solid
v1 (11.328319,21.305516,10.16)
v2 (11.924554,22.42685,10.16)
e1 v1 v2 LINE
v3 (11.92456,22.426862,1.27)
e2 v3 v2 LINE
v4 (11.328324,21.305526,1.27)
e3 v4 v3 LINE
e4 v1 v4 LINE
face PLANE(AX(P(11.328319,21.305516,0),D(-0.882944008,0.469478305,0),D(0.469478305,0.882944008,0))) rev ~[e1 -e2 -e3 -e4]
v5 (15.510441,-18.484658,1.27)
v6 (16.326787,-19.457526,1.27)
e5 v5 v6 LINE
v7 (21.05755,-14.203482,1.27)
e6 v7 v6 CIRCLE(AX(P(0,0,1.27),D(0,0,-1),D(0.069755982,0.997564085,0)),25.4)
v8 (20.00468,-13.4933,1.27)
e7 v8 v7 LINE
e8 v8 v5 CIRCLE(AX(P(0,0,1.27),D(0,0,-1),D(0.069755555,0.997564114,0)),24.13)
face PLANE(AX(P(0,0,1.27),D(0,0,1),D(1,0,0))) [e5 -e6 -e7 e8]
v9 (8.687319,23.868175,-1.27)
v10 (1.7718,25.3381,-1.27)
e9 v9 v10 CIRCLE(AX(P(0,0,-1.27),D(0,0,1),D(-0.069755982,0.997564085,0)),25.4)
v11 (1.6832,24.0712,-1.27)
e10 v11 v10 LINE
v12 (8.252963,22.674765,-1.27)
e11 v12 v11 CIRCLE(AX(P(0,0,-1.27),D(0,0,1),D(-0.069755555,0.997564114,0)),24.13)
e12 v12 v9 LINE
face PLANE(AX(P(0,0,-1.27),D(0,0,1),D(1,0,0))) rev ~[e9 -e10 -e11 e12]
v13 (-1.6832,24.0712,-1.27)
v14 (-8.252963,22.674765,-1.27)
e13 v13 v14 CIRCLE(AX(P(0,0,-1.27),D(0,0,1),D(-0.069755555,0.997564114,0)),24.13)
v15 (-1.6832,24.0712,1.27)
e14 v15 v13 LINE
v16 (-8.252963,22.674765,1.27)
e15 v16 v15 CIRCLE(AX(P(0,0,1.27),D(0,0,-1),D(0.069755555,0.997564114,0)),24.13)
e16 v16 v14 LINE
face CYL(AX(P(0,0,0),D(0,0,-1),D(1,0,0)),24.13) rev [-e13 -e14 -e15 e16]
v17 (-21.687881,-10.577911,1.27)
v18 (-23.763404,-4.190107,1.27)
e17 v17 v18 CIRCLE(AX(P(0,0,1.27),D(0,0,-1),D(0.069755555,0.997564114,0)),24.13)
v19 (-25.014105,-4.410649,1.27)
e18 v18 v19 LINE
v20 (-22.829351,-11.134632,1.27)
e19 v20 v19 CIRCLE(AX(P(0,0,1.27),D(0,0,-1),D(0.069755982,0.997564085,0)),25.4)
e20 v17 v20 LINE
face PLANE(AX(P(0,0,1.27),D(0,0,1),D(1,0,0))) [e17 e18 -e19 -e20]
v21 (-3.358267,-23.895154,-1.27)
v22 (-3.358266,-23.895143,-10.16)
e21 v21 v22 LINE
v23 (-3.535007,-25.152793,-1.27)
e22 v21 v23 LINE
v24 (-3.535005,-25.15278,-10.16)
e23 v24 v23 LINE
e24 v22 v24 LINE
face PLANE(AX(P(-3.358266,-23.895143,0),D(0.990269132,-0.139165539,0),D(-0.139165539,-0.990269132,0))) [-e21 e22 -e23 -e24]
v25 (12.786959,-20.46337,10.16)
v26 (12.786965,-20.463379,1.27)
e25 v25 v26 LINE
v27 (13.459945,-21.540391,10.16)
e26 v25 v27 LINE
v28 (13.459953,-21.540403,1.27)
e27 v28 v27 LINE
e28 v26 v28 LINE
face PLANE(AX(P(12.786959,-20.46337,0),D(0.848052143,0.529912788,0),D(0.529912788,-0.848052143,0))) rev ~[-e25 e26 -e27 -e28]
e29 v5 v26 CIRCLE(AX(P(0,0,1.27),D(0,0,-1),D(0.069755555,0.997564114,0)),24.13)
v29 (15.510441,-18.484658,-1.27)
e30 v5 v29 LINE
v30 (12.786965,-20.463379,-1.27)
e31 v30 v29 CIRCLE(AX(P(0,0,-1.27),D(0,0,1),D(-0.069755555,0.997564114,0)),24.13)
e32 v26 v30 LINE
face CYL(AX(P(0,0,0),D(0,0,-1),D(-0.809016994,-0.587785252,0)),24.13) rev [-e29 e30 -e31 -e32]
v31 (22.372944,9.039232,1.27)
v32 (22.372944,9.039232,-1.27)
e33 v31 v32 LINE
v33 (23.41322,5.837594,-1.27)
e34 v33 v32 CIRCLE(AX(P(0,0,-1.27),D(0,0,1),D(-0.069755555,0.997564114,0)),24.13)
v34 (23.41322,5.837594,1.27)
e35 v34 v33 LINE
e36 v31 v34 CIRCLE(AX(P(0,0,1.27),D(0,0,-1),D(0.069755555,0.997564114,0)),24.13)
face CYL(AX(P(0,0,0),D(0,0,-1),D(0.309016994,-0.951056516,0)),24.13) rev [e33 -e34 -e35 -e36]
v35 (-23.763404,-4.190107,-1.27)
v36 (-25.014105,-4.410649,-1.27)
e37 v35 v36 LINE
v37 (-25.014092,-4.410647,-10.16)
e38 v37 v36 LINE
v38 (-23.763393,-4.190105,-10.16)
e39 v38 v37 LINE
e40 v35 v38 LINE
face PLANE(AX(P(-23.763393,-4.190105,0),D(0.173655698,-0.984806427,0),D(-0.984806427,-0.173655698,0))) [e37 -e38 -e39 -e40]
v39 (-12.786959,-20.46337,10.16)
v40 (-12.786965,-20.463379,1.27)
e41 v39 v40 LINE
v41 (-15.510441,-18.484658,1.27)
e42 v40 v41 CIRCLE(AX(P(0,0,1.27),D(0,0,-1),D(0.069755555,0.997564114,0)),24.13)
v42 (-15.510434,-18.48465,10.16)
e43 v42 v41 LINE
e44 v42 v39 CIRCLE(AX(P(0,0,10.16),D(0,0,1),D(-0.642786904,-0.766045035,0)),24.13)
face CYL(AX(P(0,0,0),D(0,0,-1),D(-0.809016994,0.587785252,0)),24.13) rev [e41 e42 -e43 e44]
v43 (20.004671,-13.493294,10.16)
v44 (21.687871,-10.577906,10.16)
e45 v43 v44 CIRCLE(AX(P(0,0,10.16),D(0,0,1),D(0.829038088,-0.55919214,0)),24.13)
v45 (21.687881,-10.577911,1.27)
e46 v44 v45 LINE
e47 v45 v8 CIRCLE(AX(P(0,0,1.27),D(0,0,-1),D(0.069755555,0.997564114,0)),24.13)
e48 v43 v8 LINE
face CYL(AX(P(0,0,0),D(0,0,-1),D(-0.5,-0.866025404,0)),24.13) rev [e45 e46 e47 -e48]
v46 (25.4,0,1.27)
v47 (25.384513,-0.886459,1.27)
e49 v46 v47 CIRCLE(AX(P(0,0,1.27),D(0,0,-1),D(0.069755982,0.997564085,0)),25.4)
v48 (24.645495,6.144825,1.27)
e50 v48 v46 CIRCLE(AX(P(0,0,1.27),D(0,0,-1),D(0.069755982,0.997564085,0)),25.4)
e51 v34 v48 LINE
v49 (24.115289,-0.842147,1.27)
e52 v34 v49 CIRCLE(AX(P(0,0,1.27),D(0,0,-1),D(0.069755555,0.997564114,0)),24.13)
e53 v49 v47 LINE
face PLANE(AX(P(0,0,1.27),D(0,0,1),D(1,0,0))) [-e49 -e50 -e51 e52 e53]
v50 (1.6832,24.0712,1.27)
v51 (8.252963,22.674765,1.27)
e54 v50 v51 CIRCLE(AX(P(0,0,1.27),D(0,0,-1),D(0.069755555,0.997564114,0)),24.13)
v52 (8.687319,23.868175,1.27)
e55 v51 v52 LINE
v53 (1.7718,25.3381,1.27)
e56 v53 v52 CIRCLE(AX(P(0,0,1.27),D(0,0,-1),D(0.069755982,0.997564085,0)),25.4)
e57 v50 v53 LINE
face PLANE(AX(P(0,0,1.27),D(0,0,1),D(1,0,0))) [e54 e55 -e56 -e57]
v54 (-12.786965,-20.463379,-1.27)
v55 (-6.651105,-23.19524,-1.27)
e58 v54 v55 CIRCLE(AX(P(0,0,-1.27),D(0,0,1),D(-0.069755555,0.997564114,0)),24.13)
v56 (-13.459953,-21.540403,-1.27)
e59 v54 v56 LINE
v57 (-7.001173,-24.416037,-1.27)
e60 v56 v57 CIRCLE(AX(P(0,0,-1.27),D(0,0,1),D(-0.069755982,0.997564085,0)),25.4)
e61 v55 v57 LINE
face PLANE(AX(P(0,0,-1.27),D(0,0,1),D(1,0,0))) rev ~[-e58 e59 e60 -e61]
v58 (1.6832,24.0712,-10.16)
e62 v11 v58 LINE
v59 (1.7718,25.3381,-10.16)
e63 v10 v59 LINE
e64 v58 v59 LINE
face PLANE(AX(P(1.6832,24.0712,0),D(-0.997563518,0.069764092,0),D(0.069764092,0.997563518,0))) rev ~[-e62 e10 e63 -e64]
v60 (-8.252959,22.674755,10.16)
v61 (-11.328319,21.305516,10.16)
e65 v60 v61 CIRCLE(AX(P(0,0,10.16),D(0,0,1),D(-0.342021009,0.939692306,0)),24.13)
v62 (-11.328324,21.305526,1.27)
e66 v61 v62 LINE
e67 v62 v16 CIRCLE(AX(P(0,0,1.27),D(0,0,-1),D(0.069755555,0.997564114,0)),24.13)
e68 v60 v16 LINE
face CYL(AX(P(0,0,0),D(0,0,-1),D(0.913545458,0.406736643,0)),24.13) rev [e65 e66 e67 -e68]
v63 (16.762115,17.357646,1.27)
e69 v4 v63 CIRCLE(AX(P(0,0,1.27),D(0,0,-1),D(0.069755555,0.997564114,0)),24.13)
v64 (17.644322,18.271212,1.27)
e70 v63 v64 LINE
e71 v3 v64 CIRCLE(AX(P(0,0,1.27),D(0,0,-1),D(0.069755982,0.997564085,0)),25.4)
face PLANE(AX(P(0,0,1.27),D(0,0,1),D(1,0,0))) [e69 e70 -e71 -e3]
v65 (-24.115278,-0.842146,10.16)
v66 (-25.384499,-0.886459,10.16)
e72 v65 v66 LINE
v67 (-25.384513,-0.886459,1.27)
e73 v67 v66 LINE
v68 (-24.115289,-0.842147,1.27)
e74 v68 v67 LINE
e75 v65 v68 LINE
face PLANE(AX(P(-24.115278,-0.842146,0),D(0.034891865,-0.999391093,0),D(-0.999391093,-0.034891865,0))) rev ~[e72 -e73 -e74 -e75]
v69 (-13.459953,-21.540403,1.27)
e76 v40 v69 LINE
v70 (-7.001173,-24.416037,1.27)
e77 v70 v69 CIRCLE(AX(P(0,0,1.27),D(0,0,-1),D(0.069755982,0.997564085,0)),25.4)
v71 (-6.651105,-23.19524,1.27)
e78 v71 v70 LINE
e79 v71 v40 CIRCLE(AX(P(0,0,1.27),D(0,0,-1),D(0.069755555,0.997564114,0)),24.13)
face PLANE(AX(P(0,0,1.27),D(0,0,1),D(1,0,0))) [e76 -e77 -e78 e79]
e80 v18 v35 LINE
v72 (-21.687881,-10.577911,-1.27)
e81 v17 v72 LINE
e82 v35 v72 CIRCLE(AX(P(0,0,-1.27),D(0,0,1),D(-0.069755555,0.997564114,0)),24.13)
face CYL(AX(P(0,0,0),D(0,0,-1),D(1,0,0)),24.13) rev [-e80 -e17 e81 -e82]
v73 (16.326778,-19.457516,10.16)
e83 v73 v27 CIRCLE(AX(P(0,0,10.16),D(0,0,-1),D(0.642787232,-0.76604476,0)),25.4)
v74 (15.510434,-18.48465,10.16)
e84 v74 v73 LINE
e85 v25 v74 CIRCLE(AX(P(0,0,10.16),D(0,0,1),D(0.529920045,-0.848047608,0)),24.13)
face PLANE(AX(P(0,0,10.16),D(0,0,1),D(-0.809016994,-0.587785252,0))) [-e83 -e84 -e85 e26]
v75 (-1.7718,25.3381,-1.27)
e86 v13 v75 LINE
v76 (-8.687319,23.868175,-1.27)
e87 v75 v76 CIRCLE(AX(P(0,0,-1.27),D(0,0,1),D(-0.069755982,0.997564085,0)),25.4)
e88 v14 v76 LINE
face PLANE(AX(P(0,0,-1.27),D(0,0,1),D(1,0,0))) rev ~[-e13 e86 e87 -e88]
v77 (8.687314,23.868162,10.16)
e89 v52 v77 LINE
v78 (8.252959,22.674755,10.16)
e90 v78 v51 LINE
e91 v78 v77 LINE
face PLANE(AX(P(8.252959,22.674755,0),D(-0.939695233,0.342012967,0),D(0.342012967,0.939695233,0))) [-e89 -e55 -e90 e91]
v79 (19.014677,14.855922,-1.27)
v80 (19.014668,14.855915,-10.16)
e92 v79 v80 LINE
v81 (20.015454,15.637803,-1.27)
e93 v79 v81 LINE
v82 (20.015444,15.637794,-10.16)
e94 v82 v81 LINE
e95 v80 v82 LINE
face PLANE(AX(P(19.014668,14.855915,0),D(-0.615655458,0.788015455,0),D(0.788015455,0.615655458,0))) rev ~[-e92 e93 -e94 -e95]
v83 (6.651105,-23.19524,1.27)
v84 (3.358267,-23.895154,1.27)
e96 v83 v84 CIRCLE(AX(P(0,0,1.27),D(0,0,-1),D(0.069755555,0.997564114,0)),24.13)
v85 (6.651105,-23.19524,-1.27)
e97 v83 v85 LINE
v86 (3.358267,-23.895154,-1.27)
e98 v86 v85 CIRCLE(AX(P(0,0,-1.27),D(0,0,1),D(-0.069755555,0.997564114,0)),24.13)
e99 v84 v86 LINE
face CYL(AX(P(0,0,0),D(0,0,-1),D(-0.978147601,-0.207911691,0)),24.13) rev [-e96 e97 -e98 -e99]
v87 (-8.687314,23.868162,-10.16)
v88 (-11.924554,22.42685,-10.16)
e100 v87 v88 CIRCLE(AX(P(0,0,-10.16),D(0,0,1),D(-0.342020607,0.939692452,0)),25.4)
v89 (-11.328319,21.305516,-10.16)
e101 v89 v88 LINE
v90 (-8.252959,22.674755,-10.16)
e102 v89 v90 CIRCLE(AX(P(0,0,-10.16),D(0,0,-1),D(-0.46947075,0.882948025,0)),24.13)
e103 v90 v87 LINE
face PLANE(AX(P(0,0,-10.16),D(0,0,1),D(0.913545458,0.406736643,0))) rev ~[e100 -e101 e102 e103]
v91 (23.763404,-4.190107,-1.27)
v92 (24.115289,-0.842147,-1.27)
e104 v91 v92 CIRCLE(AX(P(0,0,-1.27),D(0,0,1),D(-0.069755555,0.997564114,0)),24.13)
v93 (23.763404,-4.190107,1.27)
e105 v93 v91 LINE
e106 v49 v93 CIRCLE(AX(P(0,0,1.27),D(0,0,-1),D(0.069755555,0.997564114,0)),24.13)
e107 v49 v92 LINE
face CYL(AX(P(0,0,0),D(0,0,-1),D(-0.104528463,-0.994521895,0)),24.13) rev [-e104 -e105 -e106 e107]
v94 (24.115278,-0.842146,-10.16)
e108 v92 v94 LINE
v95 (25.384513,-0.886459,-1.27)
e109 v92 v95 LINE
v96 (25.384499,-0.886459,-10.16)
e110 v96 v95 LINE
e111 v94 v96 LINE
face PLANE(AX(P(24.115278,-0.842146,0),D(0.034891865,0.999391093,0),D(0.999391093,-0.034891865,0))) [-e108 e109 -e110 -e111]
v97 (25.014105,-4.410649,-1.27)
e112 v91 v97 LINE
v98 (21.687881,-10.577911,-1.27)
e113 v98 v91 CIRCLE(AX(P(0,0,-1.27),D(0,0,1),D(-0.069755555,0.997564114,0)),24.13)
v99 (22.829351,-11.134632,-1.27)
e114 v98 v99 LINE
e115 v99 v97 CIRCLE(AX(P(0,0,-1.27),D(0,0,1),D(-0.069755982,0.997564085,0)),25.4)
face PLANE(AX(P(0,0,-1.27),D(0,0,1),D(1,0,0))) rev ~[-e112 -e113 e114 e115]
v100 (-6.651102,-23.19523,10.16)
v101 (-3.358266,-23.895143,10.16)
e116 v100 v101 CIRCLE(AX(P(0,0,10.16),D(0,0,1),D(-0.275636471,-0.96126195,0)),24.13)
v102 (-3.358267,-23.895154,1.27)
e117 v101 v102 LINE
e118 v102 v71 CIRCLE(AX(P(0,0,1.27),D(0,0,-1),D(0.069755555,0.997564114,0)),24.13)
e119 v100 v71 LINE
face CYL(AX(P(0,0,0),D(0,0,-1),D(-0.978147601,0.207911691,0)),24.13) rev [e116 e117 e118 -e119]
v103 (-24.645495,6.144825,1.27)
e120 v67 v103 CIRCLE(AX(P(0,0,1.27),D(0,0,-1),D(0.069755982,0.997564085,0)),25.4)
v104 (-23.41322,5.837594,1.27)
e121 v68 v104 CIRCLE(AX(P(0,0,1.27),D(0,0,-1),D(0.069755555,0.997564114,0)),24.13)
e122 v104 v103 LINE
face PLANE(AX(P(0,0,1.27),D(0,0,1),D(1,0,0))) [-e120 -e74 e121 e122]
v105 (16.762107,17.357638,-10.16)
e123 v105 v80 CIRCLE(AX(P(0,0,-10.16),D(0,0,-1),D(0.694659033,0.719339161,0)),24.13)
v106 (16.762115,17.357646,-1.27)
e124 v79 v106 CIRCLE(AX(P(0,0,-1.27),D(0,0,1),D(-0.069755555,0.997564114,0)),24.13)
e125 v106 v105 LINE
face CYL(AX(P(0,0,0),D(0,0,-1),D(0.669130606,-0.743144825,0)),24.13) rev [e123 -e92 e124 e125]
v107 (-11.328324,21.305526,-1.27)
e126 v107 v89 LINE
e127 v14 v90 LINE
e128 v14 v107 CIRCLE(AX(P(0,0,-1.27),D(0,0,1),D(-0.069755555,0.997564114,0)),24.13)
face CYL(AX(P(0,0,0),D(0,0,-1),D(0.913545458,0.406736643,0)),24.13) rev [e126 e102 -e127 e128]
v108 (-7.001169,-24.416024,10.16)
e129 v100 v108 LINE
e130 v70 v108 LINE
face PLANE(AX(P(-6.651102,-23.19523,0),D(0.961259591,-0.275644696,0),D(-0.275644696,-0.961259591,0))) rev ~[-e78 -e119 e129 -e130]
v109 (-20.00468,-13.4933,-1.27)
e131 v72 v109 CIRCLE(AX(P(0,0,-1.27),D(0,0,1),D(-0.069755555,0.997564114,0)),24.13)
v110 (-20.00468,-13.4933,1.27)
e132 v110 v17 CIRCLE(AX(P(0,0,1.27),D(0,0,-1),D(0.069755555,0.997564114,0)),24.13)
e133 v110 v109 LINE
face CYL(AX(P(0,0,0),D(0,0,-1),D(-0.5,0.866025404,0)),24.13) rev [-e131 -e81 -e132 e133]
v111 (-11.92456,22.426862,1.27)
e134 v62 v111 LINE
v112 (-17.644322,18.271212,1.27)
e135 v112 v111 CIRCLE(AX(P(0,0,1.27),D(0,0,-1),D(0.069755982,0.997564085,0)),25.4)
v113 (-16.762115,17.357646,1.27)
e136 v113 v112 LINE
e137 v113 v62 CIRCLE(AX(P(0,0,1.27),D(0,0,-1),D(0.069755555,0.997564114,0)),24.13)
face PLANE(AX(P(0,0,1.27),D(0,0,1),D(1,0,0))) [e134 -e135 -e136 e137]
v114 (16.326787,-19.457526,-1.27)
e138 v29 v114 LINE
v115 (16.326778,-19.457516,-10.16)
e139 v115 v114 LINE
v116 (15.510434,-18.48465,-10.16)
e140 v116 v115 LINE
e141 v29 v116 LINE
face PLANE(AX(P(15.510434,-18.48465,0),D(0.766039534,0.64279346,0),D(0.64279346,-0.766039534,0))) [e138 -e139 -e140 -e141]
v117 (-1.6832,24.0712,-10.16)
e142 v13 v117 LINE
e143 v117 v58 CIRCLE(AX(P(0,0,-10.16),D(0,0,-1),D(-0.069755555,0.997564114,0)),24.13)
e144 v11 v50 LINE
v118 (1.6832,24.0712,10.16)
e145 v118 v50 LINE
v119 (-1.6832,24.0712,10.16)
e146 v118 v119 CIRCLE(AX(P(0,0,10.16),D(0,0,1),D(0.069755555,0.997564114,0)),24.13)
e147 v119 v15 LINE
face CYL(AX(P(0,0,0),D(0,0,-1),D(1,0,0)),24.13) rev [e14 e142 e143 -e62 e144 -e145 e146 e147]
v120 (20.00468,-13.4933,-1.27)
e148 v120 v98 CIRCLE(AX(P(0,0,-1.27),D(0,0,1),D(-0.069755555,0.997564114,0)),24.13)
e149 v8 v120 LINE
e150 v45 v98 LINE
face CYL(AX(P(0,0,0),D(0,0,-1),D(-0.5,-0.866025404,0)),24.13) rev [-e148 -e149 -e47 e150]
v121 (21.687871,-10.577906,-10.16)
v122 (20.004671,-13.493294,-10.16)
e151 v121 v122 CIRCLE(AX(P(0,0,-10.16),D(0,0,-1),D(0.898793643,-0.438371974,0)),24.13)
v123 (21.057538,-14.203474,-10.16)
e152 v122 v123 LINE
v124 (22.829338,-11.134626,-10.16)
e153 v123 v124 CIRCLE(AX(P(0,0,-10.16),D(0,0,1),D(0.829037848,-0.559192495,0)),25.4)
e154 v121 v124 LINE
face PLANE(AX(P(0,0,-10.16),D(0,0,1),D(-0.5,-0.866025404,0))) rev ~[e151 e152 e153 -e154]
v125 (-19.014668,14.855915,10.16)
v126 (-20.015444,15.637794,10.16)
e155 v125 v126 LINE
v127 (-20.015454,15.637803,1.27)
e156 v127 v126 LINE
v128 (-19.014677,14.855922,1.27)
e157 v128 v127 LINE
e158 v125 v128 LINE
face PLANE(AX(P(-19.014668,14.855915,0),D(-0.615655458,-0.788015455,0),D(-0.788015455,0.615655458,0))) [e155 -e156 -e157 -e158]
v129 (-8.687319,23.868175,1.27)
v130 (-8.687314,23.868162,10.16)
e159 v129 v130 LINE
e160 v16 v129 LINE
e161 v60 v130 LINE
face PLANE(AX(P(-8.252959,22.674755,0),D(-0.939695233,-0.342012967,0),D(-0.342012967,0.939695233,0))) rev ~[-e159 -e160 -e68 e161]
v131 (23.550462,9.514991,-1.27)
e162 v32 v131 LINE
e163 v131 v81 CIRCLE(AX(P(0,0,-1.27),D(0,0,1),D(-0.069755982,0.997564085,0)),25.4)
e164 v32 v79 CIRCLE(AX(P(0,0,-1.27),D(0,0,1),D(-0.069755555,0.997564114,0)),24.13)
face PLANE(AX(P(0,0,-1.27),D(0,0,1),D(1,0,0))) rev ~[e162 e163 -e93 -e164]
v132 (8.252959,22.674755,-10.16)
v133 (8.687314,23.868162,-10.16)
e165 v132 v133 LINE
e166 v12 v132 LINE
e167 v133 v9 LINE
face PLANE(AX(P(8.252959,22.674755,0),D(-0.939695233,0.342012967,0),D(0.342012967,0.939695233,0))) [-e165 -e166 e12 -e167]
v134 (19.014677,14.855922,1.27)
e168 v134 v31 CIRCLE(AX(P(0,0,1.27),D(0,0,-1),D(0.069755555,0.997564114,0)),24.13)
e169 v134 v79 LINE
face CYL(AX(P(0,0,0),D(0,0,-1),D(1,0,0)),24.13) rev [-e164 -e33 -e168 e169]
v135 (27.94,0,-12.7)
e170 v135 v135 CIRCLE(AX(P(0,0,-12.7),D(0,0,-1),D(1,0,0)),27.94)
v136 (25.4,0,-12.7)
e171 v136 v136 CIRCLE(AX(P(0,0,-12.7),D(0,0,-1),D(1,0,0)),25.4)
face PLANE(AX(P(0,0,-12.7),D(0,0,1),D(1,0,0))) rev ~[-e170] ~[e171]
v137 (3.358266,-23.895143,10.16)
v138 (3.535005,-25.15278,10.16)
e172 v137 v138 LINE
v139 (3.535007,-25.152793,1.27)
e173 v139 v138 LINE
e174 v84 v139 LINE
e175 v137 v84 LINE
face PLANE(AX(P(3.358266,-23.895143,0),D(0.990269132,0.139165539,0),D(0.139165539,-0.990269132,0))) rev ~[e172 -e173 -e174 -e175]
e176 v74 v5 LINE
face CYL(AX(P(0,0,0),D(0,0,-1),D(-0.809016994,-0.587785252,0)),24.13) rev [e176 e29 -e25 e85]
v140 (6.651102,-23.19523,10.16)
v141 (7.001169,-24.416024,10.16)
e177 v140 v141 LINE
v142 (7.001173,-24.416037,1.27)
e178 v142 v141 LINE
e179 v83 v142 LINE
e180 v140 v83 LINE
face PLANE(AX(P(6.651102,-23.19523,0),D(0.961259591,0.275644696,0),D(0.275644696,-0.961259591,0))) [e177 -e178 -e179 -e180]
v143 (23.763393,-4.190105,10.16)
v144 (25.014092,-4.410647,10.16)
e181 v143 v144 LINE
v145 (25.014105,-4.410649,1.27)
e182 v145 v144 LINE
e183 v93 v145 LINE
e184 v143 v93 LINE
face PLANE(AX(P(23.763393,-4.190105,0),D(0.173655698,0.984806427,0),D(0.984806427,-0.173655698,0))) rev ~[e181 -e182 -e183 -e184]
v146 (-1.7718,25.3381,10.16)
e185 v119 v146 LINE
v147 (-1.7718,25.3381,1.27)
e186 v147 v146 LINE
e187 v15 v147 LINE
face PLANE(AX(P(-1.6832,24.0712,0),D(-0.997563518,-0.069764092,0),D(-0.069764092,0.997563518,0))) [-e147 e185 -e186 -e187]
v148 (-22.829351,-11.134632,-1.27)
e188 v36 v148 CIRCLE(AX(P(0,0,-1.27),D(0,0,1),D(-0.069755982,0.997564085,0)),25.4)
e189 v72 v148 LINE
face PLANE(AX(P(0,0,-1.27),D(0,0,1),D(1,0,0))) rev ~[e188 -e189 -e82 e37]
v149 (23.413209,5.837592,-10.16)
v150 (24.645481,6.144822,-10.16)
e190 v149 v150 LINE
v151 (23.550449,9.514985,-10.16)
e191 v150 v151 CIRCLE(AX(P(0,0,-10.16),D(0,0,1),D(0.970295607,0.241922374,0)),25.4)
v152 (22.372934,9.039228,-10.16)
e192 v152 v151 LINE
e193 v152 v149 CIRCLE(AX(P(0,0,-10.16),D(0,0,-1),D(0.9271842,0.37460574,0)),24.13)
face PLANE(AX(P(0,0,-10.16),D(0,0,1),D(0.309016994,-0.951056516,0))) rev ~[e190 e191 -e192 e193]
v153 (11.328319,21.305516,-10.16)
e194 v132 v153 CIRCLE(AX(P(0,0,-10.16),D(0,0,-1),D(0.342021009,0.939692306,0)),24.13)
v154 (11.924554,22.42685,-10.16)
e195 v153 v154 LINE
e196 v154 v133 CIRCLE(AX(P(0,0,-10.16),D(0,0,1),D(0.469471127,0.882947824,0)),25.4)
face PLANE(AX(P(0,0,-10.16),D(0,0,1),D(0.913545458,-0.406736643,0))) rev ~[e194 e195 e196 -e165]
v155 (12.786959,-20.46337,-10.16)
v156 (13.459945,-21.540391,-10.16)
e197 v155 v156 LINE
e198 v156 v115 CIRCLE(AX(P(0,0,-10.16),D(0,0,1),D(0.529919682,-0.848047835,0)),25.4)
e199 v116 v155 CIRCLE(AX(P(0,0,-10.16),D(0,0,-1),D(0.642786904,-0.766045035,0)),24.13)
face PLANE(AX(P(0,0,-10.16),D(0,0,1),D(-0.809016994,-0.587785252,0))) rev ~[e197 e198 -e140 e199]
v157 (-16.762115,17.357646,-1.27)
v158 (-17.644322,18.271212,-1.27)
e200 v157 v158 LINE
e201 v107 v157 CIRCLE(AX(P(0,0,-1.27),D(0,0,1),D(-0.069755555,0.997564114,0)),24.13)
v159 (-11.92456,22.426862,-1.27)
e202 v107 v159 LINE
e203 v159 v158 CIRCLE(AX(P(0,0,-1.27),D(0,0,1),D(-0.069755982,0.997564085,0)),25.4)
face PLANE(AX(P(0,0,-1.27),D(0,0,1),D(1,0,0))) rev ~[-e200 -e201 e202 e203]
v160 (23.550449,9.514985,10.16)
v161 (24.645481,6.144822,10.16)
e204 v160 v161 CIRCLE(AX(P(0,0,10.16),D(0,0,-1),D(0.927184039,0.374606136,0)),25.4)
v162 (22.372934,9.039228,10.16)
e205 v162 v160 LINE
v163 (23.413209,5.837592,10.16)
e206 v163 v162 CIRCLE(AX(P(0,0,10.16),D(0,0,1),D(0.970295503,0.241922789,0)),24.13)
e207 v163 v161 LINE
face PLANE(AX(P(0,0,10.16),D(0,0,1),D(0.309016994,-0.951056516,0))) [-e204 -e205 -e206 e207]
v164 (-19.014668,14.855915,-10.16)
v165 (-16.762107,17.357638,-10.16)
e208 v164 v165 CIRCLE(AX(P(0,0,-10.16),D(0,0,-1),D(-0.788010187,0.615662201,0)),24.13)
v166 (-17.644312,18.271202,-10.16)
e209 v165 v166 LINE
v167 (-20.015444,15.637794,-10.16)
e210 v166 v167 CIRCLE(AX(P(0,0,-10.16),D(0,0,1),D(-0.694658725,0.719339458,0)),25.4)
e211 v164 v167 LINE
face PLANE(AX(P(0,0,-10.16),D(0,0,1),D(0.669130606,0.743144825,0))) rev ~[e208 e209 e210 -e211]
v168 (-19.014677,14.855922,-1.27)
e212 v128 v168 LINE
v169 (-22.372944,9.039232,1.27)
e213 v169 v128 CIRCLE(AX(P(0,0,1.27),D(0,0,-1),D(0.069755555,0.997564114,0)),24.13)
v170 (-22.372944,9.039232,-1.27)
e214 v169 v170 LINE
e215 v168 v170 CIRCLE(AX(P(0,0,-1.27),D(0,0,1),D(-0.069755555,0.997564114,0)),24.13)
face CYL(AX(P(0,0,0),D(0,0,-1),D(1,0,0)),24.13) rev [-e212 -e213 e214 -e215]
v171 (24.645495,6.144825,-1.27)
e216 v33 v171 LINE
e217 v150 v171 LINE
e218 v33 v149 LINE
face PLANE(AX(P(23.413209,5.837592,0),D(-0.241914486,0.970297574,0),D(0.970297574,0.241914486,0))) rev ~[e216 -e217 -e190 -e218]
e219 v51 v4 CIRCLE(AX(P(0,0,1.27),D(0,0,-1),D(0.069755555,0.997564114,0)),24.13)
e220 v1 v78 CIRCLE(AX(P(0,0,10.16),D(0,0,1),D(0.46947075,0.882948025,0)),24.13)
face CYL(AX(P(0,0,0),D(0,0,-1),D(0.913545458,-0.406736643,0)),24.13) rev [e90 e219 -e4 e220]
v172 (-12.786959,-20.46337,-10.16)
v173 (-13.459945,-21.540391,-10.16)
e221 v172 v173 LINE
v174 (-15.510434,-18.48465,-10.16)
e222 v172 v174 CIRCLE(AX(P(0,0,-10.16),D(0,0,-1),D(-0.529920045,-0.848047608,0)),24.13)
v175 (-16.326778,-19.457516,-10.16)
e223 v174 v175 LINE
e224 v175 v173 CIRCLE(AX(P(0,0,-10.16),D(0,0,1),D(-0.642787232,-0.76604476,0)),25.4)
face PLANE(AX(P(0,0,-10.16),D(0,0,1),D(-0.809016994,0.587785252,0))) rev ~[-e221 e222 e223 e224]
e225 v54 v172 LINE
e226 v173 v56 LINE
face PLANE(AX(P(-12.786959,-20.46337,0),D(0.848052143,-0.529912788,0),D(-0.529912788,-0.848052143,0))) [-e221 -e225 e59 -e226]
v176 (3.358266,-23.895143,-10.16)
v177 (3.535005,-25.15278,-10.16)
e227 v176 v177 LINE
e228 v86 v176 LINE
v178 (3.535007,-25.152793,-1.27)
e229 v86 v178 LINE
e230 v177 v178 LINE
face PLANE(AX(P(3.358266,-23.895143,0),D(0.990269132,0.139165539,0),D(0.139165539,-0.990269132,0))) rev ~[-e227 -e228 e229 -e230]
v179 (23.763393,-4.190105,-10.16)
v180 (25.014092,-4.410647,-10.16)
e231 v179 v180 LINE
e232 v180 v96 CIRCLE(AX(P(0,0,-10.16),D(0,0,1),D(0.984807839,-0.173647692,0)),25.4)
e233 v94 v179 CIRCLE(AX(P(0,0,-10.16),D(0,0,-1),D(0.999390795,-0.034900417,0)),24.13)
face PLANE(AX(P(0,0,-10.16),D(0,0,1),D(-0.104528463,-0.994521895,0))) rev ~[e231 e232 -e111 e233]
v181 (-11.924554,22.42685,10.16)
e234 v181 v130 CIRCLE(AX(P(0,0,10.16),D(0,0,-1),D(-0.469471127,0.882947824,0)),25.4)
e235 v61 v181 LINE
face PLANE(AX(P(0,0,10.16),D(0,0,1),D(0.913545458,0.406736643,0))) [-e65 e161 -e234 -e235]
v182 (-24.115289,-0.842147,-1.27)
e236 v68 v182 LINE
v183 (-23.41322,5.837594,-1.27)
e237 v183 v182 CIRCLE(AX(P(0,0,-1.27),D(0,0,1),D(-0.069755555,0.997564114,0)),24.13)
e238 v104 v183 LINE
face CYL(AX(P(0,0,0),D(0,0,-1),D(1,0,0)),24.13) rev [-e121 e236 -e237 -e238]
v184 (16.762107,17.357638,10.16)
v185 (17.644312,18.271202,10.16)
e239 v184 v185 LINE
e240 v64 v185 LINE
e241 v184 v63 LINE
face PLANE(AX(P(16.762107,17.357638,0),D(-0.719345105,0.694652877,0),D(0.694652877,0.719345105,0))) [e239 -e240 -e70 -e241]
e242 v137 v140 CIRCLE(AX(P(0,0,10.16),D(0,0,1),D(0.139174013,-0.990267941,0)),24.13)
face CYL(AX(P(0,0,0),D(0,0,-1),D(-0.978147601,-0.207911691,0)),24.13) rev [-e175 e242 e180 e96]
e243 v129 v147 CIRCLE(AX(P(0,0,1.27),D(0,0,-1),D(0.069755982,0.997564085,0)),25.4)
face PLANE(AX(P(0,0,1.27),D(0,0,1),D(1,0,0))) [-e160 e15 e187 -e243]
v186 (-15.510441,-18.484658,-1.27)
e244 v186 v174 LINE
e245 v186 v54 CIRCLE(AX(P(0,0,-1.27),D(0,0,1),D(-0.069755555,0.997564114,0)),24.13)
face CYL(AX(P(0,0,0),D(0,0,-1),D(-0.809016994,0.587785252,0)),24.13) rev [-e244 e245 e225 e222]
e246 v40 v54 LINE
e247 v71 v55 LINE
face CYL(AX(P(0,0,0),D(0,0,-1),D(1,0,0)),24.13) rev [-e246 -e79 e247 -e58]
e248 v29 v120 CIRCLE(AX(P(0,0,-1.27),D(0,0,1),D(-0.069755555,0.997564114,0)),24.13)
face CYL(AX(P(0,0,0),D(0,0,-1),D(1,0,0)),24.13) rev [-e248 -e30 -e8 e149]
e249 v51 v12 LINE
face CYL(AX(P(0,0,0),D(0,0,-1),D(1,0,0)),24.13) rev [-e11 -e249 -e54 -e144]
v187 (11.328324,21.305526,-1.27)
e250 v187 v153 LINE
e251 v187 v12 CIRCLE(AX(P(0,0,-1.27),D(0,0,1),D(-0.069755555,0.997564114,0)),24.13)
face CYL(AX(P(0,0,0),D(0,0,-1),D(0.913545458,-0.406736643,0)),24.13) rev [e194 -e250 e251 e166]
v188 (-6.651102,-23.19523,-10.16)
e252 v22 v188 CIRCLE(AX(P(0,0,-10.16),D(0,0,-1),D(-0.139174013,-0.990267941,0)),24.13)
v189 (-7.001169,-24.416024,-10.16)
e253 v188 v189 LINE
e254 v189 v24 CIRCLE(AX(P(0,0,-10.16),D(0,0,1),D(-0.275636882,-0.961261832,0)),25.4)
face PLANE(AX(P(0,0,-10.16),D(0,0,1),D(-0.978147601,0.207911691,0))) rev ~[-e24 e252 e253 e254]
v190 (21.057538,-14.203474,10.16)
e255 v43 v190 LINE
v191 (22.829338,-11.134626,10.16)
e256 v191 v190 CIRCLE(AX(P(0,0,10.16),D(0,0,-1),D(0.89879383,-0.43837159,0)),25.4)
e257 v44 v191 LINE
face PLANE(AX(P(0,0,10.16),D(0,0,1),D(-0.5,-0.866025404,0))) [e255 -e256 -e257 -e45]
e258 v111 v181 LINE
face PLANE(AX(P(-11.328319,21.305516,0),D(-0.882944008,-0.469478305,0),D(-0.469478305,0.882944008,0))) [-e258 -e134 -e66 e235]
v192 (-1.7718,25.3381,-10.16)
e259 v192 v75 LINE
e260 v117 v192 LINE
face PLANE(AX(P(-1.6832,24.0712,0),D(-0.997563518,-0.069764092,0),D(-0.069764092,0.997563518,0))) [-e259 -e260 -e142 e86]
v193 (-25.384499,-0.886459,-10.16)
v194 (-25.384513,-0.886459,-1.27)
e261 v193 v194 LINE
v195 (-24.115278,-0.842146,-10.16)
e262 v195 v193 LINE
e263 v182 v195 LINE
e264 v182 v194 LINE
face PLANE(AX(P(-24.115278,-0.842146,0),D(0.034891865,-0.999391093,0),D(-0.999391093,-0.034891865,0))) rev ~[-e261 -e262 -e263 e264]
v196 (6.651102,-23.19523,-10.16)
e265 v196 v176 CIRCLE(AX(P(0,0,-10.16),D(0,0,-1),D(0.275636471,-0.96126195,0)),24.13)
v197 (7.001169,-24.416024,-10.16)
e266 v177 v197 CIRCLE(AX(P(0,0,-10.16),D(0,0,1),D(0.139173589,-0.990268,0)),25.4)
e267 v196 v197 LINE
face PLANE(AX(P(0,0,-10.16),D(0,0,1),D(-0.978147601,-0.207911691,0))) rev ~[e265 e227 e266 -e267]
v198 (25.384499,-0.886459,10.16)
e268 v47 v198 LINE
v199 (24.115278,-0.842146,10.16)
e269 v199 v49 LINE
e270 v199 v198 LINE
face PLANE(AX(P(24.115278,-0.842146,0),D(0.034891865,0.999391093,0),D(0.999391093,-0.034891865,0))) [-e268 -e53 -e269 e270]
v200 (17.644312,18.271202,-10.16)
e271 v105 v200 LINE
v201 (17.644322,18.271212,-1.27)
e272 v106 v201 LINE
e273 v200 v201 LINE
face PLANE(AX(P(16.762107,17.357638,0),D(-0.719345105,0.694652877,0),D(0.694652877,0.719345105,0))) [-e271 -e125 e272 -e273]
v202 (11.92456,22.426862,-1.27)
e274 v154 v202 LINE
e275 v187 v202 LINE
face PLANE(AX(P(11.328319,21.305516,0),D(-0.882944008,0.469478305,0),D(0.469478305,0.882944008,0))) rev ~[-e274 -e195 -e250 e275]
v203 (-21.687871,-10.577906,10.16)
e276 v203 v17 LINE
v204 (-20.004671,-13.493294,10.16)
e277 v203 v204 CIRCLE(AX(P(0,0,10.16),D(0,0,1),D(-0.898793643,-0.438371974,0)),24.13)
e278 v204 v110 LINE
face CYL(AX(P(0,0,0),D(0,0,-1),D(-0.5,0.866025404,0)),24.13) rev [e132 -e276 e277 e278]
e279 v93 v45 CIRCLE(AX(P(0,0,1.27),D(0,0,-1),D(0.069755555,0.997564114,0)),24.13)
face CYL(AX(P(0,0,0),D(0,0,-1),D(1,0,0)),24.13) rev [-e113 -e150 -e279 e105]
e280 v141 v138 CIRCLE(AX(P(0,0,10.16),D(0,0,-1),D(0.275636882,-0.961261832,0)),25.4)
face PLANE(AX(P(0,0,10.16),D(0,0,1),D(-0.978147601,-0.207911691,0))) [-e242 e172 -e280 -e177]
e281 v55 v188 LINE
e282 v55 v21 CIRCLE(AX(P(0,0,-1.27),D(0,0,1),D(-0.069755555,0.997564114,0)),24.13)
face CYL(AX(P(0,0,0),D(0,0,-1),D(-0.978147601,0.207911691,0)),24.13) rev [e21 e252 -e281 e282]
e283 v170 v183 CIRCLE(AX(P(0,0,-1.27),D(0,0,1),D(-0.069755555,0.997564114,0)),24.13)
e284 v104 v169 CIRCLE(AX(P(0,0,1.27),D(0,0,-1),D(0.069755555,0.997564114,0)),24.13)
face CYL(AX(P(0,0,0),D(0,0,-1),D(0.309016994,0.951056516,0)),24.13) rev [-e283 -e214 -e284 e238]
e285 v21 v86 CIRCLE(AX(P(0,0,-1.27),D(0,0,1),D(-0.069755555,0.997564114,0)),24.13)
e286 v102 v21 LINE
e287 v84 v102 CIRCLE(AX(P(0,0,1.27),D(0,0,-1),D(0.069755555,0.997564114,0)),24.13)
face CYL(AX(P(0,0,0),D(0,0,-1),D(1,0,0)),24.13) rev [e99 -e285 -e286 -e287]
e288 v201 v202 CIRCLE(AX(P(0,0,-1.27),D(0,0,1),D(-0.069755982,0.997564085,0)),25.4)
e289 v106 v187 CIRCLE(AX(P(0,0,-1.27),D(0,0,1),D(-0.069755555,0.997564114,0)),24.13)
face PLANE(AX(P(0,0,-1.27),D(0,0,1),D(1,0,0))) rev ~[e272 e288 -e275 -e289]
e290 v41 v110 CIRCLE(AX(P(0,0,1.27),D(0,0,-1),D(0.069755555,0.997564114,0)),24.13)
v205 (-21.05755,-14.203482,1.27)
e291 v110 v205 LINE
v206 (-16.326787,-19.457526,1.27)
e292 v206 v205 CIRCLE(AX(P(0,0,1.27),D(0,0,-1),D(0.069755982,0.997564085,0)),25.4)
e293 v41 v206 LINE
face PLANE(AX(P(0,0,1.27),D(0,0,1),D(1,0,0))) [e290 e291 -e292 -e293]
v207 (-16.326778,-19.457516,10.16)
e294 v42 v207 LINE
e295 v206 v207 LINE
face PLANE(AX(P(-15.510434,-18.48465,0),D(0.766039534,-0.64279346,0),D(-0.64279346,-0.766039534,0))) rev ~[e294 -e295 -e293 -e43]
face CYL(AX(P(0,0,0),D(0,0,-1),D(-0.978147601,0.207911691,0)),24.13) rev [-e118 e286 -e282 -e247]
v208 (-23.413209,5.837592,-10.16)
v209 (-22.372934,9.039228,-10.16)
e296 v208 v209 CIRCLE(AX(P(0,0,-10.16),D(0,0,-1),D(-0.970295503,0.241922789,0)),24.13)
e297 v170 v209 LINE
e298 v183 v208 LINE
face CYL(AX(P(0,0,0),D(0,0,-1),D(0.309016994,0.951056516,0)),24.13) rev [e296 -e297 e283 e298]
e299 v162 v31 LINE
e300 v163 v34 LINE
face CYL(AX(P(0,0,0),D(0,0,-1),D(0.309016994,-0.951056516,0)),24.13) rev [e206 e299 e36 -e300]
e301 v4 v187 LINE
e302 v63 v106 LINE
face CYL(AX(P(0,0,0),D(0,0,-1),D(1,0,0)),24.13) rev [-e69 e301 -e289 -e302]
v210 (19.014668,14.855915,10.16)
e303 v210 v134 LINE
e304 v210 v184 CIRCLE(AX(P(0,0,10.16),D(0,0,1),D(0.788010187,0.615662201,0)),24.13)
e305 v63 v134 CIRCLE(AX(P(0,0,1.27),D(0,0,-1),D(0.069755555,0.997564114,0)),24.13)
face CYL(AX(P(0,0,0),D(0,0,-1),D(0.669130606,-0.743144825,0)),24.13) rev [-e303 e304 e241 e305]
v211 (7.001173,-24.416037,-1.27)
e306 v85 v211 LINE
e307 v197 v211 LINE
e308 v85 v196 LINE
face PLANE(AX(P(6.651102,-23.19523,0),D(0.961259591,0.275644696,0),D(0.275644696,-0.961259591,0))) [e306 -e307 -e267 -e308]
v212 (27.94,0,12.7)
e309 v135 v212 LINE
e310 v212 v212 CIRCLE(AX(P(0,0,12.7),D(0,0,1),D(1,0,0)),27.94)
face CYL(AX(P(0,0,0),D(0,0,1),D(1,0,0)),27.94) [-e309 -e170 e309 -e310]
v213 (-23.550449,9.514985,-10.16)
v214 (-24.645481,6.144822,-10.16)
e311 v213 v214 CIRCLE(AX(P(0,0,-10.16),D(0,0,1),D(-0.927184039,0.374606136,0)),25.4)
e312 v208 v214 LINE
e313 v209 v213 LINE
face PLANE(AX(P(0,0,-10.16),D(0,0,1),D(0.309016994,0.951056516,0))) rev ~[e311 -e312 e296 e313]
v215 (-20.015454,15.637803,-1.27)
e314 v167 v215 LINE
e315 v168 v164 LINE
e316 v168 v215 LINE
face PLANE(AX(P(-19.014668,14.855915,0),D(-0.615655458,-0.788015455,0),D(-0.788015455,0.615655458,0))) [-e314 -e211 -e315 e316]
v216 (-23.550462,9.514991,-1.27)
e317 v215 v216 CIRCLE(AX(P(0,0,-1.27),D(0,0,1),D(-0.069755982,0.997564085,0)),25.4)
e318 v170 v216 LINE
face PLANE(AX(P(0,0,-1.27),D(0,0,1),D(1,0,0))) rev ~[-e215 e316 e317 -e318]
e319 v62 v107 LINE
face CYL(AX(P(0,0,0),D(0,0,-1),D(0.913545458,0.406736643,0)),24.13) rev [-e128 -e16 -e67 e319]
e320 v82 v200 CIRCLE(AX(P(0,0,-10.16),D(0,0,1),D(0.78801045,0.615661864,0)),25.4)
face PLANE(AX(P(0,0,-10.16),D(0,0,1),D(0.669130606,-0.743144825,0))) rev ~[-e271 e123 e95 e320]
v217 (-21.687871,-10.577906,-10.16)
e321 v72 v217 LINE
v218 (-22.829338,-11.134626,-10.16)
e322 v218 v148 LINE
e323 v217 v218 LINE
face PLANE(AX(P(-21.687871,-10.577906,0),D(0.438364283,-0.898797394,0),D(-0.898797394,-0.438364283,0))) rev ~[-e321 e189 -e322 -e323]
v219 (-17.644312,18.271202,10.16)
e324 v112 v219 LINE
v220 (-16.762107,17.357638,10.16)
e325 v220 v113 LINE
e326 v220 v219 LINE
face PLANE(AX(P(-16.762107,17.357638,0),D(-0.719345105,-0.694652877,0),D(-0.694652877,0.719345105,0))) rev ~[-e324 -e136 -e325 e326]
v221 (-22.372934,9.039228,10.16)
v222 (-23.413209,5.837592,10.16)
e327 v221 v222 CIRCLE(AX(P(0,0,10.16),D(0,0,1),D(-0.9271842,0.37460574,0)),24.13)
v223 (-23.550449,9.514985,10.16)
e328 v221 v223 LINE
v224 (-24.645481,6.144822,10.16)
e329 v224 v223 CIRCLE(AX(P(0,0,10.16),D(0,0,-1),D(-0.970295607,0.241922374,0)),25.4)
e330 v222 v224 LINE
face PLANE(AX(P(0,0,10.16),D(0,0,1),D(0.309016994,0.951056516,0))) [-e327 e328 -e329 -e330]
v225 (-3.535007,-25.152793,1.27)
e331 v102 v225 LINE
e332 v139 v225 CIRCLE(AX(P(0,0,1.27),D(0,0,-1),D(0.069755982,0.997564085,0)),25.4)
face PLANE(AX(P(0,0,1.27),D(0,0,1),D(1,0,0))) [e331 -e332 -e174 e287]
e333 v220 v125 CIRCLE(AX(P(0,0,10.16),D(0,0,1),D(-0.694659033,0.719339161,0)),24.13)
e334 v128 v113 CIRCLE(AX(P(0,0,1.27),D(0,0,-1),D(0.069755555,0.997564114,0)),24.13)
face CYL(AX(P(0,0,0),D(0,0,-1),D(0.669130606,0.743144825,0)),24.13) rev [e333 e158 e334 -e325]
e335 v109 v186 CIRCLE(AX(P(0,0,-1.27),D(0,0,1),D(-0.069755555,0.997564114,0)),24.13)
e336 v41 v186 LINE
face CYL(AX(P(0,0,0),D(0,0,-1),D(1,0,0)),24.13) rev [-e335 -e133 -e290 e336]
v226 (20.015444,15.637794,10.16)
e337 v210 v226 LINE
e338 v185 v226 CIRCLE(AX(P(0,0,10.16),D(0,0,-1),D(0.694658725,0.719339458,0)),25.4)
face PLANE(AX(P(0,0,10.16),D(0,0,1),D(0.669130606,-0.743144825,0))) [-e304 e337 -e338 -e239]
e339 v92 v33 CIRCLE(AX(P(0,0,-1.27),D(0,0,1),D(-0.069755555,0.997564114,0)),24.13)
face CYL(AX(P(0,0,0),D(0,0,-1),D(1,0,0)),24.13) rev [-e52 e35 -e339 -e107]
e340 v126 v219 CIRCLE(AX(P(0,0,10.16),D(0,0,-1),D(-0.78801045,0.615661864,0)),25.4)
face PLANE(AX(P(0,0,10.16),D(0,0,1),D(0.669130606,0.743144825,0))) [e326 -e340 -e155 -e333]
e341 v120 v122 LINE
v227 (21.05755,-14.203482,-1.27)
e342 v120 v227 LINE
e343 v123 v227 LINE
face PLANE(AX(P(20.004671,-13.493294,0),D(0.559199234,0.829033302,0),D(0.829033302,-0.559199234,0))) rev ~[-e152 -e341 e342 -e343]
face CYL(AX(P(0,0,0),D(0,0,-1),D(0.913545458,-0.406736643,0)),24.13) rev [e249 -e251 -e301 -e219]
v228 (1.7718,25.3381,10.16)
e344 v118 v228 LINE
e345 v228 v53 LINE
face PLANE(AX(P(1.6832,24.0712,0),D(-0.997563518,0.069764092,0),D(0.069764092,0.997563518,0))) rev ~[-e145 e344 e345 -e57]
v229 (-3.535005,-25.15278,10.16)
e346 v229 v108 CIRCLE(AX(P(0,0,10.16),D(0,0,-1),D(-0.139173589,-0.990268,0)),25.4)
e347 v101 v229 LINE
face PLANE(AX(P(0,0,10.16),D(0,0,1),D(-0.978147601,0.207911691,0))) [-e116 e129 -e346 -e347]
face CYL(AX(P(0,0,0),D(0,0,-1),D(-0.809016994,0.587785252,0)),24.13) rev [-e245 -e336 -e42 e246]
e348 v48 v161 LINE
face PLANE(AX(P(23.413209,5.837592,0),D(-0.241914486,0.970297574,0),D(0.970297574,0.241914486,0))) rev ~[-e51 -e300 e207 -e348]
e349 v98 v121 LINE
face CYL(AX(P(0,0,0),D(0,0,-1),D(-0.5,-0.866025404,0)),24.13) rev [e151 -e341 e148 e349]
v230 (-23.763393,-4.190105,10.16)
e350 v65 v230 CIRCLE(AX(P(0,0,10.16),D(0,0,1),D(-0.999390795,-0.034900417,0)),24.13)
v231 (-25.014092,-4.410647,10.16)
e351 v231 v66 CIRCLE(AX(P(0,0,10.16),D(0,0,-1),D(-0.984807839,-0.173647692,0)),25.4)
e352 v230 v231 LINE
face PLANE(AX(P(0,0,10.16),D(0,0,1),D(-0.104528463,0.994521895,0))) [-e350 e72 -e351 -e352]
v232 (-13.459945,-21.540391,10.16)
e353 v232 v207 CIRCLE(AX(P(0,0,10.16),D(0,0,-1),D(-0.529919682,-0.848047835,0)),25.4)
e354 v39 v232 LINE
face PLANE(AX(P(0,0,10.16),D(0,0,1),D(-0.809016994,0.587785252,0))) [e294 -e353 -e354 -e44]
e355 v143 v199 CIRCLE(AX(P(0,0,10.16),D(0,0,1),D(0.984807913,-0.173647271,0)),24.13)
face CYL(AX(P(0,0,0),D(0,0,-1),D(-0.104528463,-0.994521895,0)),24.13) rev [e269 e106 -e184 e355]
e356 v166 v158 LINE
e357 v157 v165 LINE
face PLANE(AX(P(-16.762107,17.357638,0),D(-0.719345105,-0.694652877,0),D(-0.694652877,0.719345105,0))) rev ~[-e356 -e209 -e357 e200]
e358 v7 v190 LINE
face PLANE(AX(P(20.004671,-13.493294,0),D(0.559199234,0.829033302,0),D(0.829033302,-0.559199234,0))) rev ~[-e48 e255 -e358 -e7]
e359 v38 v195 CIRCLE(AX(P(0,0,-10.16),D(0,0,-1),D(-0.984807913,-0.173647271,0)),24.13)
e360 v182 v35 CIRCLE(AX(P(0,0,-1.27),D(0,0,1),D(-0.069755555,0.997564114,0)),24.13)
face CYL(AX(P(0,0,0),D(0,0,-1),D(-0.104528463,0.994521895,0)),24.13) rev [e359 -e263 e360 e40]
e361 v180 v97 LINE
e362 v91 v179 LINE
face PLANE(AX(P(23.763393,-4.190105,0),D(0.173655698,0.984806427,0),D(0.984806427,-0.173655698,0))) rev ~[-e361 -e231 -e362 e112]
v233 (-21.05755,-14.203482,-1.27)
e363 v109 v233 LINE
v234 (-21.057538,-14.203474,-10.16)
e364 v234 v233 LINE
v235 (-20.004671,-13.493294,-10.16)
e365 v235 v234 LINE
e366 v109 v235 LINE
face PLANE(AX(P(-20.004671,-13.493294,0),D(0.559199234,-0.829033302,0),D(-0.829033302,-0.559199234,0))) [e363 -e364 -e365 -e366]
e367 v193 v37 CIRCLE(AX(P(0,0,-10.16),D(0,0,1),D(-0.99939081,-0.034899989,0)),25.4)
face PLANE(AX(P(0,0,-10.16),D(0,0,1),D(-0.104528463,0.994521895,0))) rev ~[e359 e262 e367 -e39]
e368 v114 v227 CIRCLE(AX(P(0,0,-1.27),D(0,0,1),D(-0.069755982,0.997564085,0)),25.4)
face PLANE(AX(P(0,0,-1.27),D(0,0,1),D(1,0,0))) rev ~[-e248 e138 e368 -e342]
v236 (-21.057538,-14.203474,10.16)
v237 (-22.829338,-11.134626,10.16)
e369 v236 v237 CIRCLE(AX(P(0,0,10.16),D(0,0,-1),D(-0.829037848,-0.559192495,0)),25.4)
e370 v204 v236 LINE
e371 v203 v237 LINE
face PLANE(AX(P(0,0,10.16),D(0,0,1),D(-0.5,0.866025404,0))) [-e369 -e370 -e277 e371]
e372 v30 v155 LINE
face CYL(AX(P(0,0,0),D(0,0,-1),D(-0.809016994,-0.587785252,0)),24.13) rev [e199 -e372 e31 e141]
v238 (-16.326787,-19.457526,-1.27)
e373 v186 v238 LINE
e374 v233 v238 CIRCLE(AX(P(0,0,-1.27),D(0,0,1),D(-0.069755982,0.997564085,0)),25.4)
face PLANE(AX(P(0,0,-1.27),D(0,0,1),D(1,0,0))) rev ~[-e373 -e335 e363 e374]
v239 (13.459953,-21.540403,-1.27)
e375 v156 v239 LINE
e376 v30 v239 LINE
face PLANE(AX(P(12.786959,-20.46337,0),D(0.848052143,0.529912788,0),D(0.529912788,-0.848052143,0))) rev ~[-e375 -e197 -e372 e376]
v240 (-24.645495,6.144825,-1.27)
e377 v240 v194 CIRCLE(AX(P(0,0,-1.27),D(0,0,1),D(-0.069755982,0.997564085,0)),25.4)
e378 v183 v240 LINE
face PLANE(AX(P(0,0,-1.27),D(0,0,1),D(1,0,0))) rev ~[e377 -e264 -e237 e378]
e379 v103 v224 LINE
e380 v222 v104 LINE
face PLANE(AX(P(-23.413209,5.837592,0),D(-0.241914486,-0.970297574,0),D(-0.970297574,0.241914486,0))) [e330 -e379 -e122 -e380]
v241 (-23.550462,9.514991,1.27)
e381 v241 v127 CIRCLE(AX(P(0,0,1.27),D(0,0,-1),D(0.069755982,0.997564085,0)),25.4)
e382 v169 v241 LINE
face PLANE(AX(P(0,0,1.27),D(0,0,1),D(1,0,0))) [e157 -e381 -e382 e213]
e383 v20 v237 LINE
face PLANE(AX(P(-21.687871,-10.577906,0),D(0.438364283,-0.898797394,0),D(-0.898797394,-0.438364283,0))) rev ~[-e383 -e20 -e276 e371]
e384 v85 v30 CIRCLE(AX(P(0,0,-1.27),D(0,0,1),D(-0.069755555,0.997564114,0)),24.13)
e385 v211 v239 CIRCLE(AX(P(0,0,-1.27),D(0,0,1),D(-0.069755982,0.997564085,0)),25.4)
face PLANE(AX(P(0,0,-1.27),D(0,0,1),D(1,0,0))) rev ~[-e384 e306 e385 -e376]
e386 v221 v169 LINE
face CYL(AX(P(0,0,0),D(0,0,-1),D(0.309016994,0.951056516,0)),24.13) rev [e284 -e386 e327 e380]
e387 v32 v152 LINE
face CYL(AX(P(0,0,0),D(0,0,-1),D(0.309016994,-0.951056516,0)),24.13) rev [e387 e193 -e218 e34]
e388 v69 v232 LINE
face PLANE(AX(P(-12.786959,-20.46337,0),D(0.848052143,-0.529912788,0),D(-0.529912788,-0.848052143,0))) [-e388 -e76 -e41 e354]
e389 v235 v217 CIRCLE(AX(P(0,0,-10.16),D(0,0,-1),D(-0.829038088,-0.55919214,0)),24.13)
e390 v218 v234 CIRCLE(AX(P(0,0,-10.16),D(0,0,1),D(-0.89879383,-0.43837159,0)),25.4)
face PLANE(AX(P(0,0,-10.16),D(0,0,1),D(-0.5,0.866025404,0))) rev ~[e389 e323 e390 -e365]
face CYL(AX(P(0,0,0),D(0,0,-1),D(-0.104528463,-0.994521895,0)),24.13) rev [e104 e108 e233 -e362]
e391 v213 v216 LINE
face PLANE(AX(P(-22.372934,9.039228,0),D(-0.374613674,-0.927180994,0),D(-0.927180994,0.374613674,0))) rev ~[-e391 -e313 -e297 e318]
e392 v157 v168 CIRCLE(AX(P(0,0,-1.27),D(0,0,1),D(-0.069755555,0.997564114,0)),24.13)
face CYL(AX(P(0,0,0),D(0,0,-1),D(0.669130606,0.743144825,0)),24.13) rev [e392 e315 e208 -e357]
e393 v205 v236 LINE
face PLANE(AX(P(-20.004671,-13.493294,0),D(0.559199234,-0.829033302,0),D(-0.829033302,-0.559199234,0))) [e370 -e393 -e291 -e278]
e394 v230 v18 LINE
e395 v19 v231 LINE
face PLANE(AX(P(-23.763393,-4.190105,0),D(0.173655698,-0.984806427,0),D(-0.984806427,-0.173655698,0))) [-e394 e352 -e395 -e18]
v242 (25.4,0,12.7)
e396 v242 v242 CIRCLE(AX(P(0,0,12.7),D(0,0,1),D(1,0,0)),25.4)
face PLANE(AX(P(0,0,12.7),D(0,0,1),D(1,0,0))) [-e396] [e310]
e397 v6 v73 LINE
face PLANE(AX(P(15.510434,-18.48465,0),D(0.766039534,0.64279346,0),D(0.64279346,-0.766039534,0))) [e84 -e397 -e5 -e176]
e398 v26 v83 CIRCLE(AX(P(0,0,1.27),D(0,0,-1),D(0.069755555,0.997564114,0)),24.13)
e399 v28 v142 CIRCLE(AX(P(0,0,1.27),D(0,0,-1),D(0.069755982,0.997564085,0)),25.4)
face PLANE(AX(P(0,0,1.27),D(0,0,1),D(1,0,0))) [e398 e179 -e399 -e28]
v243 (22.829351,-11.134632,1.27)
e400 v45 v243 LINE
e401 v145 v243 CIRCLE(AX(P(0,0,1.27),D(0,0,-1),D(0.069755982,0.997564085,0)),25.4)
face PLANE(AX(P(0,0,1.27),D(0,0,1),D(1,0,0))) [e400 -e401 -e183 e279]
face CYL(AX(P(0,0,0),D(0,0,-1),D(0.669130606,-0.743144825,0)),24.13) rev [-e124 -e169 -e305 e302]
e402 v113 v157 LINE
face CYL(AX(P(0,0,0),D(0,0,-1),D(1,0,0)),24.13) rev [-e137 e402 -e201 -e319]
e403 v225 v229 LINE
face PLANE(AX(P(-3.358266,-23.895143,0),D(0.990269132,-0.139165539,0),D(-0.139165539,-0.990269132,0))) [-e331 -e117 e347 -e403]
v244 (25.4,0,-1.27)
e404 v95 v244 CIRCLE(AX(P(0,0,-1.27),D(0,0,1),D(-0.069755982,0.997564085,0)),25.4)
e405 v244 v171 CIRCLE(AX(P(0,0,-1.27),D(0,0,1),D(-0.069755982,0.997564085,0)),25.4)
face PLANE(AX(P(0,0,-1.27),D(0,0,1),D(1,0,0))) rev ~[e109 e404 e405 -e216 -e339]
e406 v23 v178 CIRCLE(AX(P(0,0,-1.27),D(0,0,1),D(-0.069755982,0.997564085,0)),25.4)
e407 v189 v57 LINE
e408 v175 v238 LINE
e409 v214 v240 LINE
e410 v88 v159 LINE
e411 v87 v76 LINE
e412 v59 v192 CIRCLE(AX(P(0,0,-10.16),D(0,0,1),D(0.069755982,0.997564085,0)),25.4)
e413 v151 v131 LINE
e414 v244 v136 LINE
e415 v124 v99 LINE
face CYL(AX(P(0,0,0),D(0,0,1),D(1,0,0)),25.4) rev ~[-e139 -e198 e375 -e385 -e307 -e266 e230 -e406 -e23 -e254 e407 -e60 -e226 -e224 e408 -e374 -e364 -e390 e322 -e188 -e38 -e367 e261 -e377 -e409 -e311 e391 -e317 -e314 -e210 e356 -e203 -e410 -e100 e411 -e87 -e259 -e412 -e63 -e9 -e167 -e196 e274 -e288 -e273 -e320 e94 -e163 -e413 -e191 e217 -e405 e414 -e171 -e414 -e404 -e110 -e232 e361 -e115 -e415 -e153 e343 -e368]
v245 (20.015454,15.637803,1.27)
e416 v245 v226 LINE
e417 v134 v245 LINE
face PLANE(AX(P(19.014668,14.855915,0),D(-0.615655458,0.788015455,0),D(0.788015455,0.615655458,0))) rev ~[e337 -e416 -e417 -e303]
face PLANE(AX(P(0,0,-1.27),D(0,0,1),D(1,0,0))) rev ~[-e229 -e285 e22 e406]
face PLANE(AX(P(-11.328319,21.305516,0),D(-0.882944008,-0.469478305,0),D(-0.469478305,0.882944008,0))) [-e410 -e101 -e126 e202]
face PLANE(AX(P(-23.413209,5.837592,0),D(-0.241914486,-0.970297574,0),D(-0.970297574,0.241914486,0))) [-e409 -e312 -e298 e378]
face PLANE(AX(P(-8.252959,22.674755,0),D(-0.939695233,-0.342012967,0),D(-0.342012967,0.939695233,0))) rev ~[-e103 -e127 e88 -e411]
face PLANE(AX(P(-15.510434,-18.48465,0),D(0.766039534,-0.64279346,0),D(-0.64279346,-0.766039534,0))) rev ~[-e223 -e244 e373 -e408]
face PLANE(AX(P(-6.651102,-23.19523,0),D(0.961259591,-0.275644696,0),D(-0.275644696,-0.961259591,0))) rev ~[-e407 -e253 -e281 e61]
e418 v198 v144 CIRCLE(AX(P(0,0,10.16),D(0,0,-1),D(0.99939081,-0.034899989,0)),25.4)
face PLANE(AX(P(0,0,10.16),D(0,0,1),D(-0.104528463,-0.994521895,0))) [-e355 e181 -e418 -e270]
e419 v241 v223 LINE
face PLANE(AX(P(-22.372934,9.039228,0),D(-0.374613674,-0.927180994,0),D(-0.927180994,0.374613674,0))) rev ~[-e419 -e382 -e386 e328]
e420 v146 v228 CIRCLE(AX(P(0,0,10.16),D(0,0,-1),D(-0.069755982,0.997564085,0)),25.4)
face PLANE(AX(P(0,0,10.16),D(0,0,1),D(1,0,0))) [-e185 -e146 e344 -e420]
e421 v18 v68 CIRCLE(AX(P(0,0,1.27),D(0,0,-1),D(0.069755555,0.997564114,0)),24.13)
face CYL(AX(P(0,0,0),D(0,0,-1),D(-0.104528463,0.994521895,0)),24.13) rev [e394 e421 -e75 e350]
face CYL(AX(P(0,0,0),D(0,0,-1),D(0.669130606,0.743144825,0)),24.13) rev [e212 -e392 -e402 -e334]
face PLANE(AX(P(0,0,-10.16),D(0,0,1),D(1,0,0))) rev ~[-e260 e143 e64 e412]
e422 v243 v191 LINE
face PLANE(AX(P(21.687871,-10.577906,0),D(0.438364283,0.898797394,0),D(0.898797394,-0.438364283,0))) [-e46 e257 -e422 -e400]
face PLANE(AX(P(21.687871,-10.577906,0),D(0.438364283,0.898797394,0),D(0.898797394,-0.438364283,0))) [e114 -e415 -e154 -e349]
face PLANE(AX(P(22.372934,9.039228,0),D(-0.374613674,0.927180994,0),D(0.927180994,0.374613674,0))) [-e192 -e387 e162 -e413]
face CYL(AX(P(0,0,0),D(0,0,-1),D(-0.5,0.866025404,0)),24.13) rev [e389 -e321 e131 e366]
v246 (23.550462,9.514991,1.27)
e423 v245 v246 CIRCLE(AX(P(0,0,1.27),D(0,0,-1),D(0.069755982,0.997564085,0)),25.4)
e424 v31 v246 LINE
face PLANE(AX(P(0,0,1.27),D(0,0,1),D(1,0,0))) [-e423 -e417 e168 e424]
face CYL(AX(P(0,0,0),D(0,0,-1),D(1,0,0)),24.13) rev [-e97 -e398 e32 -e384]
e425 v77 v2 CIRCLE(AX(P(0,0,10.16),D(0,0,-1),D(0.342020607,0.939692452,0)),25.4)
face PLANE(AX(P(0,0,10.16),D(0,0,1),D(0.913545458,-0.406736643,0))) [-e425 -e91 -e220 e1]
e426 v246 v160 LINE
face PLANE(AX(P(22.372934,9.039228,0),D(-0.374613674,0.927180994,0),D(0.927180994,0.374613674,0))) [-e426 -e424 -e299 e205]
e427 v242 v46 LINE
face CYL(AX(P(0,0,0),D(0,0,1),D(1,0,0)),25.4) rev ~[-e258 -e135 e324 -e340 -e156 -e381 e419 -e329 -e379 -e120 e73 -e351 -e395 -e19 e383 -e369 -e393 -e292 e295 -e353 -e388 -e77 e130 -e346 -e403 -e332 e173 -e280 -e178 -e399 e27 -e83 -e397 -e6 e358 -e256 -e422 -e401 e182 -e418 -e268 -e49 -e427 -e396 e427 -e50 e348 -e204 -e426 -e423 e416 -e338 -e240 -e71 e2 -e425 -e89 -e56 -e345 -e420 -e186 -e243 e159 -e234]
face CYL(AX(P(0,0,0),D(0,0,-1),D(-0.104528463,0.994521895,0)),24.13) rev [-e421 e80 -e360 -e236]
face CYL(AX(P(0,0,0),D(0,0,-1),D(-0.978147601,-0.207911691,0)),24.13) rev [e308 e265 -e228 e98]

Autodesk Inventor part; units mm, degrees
ref_plane "YZ Plane" through (0, 0, 0) normal (1, 0, 0) x (0, 1, 0)
ref_plane "XZ Plane" through (0, 0, 0) normal (0, 1, 0) x (-1, 0, 0)
ref_plane "XY Plane" through (0, 0, 0) normal (0, 0, 1) x (1, 0, 0)
sketch "Sketch1" plane through (0, 0, 0) normal (0, 0, 1) x (1, 0, 0)
  circle A0 centre (0, 0) radius 25.4
  circle A1 centre (0, 0) radius 27.94
  circle A2 centre (0, 0) radius 24.13
  line L0 (1.6832, 24.0712) -> (1.7718, 25.3381)
  line L1 (-1.6832, 24.0712) -> (-1.7718, 25.3381)
  line L2 (0, 39.116) -> (0, -39.116) projected
  dimension "d0" = 50.8
  dimension "d1" = 55.88
  dimension "d4" = 48.26
  dimension "d5" = 4
  dimension "d6" = 4
extrude "Extrusion3" add sketch "Sketch1" along normal mid plane 25.4 contours A0 L2 A1 | L2 A1 A0
extrude "Extrusion4" add sketch "Sketch1" along normal mid plane 20.32 contours L0 A2 L2 A0 | L2 A2 L1 A0 picked at (0.3842, 24.9722) picked at (-0.3842, 24.9722)
pattern_circular "Circular Pattern2" count 15 over 360 about axis through (0, 0, -10) along (0, 0, 1) of "Extrusion4"
extrude "Extrusion5" add sketch "Sketch1" along normal mid plane 2.54 contours A0 L2 A2 L0 | A0 L1 A2 L2 picked at (24.7644, -1.884) picked at (-1.982, -24.7414)
properties part number "Wheel With Ridges"
